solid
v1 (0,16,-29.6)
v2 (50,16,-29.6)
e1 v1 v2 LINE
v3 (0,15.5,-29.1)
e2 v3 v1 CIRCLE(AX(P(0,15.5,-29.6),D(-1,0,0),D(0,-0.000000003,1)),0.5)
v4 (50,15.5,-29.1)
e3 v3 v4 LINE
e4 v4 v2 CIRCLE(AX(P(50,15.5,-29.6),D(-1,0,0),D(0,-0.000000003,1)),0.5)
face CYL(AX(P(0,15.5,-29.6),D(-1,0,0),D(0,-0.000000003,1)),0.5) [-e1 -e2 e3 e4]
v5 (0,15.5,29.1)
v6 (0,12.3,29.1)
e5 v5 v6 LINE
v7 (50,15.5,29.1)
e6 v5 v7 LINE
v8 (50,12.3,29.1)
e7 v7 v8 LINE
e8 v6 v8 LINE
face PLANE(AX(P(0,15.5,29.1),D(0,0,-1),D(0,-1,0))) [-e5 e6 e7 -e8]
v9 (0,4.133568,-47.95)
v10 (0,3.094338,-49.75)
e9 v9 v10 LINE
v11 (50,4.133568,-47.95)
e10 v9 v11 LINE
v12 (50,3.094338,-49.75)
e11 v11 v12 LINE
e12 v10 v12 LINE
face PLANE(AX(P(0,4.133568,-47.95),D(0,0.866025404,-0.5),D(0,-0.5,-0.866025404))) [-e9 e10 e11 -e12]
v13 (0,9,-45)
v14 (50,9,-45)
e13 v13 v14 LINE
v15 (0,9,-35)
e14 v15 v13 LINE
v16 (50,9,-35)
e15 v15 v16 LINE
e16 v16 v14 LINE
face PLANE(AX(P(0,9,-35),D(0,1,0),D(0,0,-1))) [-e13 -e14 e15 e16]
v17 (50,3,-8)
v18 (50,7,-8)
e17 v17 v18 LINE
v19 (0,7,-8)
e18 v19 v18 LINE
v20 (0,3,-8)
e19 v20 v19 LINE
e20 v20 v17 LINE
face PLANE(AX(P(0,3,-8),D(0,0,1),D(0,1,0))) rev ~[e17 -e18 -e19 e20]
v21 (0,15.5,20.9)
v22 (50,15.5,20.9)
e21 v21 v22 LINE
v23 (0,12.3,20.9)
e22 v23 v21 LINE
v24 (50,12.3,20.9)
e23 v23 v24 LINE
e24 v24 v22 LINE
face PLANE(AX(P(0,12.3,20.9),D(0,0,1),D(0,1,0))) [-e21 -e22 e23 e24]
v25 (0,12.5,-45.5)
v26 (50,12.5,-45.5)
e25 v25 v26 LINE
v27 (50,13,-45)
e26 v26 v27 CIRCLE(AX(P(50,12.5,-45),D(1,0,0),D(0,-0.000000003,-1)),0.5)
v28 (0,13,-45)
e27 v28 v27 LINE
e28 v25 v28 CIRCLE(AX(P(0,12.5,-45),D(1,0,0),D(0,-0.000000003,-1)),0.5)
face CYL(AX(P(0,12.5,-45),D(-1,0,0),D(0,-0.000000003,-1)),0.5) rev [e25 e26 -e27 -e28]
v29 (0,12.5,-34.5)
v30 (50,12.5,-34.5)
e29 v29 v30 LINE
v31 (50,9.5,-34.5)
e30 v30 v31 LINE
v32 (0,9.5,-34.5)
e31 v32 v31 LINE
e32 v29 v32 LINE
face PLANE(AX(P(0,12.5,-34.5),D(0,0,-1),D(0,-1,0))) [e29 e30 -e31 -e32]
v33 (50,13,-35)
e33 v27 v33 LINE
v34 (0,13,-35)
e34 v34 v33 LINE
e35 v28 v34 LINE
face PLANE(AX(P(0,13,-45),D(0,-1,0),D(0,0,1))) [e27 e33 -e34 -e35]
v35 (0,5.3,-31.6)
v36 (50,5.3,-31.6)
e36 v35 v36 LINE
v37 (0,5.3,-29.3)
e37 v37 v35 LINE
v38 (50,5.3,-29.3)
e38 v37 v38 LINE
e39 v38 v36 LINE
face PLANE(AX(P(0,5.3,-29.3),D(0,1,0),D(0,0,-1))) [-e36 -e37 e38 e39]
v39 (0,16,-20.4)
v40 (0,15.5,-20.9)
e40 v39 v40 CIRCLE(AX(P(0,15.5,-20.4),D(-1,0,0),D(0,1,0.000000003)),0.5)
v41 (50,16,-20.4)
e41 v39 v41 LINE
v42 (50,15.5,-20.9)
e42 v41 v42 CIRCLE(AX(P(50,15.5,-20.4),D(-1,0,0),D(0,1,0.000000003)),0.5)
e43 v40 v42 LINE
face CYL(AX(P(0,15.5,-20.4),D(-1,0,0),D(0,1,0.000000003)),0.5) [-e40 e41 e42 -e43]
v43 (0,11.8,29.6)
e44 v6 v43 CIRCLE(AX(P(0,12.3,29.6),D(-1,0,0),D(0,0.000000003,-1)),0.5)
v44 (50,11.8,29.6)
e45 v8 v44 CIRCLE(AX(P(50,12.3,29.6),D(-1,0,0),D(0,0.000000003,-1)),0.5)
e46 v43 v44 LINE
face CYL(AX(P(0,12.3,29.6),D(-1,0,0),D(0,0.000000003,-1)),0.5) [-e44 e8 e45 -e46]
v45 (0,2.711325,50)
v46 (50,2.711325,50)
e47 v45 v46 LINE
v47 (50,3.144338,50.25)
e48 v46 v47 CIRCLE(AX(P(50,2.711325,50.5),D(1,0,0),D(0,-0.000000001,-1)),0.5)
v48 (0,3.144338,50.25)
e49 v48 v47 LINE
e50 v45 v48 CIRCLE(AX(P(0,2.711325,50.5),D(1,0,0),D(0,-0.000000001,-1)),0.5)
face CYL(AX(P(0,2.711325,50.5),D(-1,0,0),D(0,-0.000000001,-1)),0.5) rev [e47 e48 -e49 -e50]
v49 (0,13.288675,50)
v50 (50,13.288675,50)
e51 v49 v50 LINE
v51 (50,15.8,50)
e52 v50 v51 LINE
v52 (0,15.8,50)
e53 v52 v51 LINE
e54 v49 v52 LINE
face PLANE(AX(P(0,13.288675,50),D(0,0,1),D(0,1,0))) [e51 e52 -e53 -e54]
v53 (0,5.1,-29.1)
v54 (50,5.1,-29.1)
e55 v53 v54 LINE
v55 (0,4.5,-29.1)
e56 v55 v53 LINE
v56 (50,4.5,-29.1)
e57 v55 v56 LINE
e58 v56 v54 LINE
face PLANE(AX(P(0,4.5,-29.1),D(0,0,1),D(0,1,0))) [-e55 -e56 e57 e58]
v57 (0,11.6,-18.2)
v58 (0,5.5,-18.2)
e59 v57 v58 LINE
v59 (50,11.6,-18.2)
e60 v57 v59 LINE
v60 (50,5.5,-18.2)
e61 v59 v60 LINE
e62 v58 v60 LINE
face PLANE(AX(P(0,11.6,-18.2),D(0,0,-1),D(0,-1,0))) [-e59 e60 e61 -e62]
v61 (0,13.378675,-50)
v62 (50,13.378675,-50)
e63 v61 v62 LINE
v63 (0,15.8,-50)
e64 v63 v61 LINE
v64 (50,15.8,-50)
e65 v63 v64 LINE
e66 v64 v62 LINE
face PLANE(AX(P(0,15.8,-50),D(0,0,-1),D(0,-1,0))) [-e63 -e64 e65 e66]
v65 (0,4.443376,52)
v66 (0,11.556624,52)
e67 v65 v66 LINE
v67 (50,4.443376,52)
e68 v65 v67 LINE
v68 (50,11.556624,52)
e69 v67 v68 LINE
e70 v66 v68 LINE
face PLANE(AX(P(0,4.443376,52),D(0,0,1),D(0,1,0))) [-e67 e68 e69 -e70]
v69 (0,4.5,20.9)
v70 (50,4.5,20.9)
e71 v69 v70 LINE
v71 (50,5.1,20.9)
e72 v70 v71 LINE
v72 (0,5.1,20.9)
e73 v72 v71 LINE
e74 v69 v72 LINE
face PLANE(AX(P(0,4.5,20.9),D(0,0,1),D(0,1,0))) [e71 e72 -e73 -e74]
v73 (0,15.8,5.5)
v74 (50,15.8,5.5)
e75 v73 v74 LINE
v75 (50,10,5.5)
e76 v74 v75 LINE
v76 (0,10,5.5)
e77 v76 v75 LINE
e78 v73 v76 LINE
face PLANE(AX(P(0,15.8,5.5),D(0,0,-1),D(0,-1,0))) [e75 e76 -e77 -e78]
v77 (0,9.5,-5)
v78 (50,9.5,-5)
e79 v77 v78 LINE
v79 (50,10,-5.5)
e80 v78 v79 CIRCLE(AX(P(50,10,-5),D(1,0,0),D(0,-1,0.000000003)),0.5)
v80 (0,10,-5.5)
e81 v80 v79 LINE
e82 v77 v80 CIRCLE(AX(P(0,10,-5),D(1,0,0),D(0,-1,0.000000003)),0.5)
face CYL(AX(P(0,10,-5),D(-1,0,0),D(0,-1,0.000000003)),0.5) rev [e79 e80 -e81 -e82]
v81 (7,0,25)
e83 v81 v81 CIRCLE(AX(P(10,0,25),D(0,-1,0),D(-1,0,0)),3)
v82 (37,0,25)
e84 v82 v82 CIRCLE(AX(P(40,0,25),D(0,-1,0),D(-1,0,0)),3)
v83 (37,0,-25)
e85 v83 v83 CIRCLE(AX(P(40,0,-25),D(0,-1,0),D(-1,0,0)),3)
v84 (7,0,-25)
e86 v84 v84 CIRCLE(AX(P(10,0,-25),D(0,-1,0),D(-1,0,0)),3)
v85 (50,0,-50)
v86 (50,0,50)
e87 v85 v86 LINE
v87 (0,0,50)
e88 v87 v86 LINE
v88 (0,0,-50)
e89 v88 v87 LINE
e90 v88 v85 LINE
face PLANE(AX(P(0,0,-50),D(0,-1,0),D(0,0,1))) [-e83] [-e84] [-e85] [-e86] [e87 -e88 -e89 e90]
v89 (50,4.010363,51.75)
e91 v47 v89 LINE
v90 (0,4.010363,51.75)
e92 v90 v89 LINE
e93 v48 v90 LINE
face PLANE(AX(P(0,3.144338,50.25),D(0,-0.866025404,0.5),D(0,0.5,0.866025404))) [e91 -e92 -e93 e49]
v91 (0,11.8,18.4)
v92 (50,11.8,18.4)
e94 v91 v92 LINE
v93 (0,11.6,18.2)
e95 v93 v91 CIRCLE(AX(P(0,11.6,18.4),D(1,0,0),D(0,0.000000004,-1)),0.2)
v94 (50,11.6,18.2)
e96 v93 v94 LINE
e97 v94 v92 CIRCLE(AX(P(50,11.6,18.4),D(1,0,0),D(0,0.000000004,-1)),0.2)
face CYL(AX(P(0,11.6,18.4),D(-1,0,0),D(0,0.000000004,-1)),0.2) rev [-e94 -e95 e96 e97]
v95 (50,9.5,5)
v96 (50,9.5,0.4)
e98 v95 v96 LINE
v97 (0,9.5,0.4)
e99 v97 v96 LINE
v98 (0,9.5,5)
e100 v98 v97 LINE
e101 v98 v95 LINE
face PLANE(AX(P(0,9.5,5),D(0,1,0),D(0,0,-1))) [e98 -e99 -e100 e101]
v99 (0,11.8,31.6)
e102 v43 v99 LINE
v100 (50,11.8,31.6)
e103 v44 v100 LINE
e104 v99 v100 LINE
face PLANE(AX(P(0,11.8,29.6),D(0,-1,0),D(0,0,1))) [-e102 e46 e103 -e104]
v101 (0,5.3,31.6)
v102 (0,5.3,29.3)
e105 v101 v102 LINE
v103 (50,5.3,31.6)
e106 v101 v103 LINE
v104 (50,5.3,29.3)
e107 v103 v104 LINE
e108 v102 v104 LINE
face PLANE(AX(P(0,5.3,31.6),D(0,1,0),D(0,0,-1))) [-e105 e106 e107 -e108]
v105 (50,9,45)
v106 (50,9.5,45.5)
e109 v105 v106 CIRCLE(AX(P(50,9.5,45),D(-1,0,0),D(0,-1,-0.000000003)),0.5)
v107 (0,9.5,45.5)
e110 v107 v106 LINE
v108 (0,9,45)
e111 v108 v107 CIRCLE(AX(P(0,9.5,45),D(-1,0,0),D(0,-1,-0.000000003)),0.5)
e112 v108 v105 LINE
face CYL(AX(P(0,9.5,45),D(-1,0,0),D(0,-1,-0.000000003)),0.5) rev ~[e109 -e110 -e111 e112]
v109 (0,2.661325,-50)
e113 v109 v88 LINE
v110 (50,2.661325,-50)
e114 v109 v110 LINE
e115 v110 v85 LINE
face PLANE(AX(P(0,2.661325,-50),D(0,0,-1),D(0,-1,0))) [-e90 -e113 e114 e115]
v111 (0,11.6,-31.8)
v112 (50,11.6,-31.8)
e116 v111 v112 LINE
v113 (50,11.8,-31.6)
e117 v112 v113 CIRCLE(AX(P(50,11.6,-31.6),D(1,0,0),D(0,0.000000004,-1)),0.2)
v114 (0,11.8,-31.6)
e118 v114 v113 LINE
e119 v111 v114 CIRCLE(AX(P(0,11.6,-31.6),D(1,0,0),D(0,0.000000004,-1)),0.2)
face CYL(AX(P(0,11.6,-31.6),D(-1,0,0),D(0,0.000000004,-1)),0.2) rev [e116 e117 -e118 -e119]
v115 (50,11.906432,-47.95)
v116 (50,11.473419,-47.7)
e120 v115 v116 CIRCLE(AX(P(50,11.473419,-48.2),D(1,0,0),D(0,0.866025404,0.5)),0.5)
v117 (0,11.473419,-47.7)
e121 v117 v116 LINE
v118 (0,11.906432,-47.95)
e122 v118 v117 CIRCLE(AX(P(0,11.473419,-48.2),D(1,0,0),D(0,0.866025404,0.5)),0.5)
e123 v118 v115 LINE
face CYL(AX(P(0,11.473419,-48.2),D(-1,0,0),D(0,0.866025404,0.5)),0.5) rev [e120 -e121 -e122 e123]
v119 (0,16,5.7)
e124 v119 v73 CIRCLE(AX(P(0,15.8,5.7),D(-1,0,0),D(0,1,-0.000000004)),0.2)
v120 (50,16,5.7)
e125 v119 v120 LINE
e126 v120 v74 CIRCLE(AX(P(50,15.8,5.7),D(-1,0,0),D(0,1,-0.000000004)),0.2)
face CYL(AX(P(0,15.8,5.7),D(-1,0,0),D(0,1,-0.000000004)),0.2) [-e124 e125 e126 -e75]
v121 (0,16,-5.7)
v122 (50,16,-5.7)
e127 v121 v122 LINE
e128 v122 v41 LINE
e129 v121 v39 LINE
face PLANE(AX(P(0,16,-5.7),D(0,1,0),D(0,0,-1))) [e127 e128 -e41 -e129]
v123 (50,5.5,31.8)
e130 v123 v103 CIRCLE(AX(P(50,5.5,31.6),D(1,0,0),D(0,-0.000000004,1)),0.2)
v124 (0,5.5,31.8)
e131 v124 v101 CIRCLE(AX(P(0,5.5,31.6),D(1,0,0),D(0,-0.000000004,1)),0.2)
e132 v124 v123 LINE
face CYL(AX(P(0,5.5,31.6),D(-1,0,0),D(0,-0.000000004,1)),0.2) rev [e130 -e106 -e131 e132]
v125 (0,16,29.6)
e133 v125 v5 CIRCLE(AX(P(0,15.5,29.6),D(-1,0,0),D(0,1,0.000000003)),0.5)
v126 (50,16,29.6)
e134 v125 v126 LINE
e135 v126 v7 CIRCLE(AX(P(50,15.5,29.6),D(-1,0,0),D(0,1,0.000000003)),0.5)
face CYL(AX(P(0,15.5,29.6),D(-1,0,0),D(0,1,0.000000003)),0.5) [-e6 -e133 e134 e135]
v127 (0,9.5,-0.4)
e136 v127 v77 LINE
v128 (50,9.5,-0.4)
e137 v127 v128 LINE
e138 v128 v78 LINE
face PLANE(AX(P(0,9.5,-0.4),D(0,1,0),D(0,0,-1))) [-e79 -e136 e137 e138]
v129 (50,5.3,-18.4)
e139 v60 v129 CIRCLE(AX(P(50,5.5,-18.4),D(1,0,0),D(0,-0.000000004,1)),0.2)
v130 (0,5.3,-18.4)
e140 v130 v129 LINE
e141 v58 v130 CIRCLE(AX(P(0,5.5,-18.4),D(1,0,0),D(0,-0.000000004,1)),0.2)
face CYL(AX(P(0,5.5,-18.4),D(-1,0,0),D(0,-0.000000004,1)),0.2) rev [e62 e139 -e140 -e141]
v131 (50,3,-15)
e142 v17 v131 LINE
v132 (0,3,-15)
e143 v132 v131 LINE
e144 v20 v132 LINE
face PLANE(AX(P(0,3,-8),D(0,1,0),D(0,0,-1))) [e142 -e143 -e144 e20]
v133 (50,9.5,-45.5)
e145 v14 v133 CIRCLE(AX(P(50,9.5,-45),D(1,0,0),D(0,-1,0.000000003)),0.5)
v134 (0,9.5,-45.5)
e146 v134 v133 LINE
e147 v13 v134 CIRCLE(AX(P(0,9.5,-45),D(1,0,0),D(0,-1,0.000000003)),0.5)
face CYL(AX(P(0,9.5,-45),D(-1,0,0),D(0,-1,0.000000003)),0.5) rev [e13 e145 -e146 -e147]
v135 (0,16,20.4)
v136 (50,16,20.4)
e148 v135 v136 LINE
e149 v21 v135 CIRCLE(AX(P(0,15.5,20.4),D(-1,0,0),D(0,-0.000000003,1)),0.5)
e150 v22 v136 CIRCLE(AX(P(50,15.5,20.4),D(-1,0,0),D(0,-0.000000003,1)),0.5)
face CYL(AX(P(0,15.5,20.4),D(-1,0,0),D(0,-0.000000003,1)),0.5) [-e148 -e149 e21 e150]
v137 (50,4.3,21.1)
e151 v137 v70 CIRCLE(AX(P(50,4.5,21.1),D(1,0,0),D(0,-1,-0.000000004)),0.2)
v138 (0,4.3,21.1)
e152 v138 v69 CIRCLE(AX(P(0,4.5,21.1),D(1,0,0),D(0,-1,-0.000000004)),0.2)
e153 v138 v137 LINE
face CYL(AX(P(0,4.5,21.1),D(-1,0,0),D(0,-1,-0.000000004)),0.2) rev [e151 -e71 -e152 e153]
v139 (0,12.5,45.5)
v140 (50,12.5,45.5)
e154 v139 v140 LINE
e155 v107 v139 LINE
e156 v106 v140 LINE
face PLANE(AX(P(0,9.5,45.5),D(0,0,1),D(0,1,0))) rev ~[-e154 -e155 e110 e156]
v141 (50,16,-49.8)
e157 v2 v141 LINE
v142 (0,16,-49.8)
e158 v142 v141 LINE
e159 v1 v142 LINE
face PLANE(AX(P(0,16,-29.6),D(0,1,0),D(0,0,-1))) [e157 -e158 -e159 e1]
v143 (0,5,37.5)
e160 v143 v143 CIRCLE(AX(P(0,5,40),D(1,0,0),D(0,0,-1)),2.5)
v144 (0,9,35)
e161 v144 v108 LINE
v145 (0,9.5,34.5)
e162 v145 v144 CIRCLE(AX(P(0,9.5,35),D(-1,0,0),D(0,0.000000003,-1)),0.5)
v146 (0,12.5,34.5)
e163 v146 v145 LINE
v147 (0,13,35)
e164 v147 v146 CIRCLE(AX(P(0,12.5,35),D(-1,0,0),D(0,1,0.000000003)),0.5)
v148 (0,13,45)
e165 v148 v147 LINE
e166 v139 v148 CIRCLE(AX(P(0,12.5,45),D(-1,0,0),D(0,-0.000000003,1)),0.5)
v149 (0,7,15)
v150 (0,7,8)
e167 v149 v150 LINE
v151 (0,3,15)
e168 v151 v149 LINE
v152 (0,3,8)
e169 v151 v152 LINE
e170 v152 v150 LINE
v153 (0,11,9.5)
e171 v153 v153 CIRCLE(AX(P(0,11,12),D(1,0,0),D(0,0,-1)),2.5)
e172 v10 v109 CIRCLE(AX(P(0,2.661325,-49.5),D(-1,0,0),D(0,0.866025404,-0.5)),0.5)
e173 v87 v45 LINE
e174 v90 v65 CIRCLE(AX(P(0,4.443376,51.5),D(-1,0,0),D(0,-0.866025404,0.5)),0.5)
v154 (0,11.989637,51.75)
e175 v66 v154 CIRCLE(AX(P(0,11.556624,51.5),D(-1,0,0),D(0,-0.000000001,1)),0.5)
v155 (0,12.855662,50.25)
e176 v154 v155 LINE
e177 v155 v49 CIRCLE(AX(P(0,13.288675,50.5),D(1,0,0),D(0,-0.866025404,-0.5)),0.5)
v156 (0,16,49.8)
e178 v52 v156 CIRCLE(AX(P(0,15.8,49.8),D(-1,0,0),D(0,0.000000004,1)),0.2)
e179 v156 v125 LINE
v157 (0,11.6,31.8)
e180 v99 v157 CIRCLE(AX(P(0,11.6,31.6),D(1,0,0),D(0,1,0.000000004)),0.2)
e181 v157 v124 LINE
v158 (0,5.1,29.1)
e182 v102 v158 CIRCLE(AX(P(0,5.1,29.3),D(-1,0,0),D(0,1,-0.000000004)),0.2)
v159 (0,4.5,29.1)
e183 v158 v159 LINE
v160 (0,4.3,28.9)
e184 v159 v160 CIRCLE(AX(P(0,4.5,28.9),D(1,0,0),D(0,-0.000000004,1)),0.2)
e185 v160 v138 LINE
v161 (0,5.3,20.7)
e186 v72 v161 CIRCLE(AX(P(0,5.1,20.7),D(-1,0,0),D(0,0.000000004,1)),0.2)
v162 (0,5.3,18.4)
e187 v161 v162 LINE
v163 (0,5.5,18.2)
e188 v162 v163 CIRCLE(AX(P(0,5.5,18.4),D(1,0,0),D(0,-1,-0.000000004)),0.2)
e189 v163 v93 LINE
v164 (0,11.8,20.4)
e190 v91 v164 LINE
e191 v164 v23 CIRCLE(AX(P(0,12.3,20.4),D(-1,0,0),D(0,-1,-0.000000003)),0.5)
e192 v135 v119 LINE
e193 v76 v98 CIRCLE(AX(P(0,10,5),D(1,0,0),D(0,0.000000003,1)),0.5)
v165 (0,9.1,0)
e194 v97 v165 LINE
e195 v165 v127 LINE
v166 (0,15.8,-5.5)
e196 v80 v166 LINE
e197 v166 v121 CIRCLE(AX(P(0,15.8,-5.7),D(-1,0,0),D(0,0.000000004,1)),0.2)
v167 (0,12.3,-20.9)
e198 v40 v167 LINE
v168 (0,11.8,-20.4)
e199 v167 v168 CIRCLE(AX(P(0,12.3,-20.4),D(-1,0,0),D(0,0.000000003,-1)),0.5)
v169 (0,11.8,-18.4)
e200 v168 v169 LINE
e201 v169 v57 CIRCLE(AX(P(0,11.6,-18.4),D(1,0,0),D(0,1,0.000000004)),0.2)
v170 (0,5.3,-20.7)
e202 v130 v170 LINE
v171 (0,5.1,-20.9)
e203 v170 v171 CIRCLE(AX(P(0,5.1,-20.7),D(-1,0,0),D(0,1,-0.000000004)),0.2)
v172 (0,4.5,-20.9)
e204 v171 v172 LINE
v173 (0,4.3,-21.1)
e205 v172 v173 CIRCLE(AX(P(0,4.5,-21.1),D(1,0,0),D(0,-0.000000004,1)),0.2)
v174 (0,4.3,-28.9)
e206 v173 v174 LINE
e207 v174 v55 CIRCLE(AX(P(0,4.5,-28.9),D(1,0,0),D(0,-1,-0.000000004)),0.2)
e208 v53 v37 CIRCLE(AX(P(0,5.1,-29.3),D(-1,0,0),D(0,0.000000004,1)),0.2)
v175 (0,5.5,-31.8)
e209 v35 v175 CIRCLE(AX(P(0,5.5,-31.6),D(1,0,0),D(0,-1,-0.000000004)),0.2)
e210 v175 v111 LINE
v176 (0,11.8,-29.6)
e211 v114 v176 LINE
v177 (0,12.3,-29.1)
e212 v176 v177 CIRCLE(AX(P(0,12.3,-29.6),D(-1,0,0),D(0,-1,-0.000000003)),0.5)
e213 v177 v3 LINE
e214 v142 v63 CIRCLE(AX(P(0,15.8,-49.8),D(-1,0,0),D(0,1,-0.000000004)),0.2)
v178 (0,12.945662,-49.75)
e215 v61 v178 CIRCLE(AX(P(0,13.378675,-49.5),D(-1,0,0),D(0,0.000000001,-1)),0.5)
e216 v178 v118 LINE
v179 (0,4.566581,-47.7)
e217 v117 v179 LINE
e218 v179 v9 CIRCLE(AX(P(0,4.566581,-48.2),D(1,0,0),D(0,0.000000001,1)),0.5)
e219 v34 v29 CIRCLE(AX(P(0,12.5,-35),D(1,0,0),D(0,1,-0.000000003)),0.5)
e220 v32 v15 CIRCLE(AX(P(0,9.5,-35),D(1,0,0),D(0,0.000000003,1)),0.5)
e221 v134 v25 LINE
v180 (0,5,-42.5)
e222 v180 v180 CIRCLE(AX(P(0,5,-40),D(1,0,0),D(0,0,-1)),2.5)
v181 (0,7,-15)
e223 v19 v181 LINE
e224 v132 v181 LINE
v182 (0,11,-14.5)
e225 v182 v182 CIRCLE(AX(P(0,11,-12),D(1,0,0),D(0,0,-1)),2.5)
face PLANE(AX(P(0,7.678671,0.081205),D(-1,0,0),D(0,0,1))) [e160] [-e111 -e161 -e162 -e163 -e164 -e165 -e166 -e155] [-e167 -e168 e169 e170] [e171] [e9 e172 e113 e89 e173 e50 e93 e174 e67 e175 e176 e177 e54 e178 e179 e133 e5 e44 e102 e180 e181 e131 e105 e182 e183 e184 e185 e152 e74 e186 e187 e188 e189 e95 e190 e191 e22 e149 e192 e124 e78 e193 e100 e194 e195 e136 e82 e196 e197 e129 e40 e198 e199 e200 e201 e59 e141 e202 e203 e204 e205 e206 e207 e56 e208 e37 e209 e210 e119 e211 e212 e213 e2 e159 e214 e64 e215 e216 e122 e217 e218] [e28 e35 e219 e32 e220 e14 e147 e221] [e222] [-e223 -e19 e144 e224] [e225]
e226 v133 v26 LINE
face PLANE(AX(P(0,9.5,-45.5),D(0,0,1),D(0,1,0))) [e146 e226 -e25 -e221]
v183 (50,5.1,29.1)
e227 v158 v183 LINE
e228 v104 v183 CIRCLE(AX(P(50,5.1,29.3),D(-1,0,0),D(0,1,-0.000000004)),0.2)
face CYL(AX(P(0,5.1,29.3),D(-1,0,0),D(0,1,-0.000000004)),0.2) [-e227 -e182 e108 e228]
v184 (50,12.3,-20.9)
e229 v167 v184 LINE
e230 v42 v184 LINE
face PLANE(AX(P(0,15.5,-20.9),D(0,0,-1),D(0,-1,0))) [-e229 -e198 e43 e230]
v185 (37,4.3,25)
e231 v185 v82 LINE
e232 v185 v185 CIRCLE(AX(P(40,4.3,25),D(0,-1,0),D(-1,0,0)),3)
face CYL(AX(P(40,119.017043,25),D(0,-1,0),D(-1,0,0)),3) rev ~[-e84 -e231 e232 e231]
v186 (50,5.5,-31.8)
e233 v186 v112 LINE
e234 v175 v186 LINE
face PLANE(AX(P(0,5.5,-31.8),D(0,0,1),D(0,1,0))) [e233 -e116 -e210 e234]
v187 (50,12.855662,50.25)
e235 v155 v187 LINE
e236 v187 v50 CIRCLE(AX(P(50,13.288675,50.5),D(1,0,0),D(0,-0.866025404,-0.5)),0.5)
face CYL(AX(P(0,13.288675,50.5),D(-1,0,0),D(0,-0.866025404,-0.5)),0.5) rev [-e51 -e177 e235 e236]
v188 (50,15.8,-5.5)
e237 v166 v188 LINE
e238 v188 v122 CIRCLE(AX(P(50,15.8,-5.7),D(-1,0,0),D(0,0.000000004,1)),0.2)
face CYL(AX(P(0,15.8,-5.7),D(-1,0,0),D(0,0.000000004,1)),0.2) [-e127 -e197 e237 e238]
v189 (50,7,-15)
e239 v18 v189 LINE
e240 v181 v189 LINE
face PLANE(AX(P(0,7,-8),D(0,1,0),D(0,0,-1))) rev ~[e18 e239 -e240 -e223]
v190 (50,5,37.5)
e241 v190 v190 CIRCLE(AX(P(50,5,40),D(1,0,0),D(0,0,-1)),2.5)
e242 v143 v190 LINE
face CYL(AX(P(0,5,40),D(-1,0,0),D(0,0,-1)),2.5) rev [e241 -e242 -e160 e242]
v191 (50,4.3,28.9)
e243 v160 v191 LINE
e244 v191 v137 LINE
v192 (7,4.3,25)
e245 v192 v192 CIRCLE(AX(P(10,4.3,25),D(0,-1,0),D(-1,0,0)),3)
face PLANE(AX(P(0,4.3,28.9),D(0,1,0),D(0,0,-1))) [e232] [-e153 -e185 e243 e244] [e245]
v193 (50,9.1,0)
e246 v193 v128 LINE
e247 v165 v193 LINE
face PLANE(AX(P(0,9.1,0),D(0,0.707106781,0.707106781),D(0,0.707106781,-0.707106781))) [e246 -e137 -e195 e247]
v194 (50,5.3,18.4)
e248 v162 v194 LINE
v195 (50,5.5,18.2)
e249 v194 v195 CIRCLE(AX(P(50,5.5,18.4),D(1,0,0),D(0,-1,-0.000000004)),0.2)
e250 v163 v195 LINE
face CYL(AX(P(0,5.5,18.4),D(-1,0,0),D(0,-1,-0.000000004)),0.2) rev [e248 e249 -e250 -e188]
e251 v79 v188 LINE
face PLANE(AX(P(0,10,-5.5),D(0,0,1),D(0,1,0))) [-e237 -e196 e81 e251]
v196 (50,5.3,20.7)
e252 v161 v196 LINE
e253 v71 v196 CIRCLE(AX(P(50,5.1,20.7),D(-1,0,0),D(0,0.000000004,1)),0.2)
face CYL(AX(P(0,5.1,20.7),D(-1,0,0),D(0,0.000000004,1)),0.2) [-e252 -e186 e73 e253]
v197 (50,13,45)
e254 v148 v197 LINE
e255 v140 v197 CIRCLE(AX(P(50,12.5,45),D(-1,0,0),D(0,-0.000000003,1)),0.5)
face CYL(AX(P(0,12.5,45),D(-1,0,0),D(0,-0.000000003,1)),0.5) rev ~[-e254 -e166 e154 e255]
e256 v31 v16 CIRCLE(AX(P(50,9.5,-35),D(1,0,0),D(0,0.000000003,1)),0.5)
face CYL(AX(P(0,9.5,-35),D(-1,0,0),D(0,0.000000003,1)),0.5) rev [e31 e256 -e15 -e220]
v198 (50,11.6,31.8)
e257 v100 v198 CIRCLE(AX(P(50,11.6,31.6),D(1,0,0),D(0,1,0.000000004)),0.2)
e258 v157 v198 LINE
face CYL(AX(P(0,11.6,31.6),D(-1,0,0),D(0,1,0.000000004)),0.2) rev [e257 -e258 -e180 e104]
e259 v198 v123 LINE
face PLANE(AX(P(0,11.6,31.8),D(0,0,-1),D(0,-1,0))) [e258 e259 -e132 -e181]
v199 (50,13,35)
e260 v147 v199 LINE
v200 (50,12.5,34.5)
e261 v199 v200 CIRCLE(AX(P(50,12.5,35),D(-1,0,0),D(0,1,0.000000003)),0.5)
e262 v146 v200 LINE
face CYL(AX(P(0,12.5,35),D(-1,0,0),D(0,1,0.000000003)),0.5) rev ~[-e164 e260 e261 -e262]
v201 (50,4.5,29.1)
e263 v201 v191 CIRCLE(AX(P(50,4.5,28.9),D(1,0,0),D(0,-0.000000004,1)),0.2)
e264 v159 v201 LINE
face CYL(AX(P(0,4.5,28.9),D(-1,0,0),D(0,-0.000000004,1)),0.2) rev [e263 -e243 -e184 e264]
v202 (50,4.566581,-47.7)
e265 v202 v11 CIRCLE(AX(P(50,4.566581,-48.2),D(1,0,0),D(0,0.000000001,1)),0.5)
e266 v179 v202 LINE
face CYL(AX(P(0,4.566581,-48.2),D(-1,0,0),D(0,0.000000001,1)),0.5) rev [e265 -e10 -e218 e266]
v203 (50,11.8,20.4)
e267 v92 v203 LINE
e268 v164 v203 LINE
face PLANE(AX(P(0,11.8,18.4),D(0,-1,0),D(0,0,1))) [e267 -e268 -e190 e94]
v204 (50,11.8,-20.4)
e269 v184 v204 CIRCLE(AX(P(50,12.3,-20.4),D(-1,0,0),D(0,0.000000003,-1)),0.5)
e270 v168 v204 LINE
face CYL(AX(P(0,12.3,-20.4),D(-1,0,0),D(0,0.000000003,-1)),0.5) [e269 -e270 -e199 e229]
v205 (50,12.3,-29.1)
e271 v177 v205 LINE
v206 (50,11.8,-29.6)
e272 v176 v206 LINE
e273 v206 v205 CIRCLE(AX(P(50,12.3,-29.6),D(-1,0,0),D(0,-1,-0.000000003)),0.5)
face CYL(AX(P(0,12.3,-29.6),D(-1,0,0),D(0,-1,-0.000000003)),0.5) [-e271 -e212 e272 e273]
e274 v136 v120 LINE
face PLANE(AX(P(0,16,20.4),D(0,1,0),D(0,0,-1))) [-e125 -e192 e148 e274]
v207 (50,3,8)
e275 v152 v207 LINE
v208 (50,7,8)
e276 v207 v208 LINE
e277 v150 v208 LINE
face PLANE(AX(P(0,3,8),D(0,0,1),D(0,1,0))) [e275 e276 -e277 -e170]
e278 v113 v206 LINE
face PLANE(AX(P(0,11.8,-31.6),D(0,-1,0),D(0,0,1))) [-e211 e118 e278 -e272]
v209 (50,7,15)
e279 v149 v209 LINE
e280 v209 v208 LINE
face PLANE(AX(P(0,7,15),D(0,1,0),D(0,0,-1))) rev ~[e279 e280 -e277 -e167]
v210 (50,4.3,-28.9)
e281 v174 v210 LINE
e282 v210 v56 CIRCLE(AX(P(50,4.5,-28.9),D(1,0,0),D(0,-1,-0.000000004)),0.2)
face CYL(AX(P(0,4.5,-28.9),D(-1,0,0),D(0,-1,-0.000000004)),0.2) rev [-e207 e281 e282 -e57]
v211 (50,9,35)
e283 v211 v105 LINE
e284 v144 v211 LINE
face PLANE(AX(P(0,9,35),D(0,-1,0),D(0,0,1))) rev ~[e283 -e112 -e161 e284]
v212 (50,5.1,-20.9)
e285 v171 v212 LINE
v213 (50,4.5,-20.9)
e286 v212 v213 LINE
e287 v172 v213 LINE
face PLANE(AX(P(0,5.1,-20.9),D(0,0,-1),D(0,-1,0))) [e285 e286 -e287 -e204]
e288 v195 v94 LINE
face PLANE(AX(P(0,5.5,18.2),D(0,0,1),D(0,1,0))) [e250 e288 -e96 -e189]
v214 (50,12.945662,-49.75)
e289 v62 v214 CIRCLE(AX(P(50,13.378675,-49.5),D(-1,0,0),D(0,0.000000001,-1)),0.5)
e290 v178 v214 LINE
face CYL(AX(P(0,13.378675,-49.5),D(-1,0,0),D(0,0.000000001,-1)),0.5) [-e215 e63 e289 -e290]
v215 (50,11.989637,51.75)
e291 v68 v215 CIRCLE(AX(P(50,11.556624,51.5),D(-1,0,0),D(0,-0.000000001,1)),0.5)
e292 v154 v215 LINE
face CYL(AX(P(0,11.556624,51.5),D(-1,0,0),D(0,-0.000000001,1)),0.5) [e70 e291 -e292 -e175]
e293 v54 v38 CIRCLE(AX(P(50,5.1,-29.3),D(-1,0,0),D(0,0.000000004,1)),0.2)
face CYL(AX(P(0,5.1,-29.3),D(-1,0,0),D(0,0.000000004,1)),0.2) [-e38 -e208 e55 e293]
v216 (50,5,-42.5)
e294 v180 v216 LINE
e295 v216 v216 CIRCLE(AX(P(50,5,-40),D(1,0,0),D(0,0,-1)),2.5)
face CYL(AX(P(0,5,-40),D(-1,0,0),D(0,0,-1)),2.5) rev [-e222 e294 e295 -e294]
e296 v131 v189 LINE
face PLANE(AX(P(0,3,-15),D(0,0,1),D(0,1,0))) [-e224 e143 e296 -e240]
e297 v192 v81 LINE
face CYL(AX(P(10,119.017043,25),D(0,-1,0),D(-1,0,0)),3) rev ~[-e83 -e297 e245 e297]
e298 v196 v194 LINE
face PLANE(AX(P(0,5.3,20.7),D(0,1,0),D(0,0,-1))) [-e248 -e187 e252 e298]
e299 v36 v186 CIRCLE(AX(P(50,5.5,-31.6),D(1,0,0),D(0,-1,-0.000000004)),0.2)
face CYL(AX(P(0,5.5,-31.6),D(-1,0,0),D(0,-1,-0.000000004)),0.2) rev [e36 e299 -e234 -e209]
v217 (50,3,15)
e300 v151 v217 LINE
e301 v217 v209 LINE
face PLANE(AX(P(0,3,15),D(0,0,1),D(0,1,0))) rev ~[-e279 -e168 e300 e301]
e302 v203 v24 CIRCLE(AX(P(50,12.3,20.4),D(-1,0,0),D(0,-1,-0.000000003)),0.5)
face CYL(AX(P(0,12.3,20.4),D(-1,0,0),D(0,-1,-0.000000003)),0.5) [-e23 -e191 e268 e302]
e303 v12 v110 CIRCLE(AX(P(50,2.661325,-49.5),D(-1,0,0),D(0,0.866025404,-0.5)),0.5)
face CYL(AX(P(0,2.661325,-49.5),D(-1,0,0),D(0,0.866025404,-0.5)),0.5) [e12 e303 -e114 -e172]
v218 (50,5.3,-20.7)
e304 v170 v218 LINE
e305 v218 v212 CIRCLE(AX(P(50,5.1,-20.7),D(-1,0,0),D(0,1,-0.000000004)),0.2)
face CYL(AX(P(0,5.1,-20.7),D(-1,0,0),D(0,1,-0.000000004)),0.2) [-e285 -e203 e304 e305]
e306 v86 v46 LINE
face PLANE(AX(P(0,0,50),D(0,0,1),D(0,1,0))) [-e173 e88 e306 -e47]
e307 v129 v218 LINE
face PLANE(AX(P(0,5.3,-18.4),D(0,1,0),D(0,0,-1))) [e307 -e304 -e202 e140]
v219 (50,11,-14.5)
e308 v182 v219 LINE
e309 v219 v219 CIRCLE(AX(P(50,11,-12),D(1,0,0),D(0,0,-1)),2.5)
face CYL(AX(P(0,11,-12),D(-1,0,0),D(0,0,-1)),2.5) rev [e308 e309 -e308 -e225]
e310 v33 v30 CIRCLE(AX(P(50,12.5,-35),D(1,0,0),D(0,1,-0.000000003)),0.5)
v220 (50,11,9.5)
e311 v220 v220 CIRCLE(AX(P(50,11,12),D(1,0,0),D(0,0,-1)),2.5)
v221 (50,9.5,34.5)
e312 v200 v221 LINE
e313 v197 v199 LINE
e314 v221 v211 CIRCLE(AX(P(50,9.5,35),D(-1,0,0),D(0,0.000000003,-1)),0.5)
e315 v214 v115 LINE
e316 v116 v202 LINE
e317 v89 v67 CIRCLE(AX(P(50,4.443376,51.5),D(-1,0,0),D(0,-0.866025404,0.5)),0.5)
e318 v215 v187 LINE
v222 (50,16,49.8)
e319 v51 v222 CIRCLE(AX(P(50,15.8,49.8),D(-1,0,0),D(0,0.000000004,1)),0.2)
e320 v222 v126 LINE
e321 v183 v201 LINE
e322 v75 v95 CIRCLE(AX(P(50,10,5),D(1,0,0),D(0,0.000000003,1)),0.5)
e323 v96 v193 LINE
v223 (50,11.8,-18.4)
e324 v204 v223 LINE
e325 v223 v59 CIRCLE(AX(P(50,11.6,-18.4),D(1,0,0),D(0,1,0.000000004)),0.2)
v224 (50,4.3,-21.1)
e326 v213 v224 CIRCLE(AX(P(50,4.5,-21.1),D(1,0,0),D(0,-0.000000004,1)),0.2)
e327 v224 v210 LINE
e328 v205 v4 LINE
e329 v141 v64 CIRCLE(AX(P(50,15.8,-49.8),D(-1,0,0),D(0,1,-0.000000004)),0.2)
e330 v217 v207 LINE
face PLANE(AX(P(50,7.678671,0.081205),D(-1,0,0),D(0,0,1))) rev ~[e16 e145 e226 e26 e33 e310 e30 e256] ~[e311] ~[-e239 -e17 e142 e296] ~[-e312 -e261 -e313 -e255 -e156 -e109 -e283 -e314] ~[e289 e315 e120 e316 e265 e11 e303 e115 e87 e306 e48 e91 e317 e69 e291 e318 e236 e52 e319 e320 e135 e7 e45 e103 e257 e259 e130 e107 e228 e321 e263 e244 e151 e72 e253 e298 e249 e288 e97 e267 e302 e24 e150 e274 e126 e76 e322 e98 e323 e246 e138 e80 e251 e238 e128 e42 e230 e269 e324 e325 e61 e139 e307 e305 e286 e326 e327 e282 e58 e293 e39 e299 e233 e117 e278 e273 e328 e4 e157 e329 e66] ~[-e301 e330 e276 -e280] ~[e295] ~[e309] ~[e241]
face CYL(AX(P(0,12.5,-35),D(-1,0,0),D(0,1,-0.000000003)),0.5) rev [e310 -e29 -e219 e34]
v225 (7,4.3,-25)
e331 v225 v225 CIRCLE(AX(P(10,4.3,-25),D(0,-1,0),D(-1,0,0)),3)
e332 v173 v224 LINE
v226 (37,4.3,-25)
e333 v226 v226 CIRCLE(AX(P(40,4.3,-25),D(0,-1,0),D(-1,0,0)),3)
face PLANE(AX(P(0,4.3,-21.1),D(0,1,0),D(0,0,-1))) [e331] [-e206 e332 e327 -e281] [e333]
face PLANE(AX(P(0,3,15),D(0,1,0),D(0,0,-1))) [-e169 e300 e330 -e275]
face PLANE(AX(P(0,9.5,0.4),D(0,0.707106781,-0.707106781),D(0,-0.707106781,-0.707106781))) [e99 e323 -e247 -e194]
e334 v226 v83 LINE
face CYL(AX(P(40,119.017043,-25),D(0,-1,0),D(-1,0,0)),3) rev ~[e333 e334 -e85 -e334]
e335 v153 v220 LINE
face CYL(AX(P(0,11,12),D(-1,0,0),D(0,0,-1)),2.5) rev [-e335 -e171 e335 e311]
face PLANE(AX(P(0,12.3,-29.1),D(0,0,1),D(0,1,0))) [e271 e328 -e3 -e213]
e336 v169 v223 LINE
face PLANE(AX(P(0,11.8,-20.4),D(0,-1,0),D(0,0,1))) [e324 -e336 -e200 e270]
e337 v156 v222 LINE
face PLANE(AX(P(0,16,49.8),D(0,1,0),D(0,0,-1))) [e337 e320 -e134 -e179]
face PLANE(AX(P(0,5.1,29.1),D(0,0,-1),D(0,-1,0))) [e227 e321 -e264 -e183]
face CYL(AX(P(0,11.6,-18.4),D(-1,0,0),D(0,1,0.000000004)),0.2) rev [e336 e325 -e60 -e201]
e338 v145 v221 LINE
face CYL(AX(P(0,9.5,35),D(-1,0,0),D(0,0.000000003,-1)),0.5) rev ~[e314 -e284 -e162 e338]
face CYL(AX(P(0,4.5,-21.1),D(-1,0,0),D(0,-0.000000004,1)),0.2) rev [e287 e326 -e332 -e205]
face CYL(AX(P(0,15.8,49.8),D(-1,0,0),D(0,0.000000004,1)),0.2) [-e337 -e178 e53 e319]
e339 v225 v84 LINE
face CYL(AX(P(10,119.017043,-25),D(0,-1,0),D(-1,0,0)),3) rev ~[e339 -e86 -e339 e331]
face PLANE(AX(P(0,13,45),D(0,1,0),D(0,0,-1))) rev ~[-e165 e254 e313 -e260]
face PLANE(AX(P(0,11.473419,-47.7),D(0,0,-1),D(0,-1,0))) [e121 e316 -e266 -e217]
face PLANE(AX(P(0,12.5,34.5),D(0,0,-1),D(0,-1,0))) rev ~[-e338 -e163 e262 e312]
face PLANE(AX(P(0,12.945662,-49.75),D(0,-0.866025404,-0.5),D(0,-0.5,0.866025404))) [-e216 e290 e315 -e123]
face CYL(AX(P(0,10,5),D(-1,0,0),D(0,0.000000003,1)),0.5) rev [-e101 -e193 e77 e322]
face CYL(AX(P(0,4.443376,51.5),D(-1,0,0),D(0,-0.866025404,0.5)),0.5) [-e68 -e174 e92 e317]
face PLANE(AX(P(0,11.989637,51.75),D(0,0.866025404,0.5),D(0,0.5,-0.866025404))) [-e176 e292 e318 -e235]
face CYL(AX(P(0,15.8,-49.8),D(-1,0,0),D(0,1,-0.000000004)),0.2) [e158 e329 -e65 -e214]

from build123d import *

# Parameters (mm, degrees)
SKETCH_1_R            = 2.5
SKETCH_1_W            = 7
SKETCH_1_H            = 4
EXTRUDE_1_DEPTH       = 50
HOLE_WIZARD_6_0_6_1_D = 6


with BuildPart() as part:
    # Эскиз1 → Бобышка-Вытянуть1 (new body)
    with BuildSketch(Plane(origin=(0, 0, 0), x_dir=(0, 0, -1), z_dir=(1, 0, 0))):
        with BuildLine():
            Line((-5.5, 15.8), (-5.5, 10))
            ThreePointArc((-5.5, 10), (-5.353553391, 9.646446609), (-5, 9.5))
            Line((-5, 9.5), (-0.4, 9.5))
            Line((-0.4, 9.5), (0, 9.1))
            Line((0, 9.1), (0.4, 9.5))
            Line((0.4, 9.5), (5, 9.5))
            ThreePointArc((5, 9.5), (5.353553391, 9.646446609), (5.5, 10))
            Line((5.5, 10), (5.5, 15.8))
            ThreePointArc((5.5, 15.8), (5.558578644, 15.941421356), (5.7, 16))
            Line((5.7, 16), (20.4, 16))
            ThreePointArc((20.4, 16), (20.753553391, 15.853553391), (20.9, 15.5))
            Line((20.9, 15.5), (20.9, 12.3))
            ThreePointArc((20.9, 12.3), (20.753553391, 11.946446609), (20.4, 11.8))
            Line((20.4, 11.8), (18.4, 11.8))
            ThreePointArc((18.4, 11.8), (18.258578644, 11.741421356), (18.2, 11.6))
            Line((18.2, 11.6), (18.2, 5.5))
            ThreePointArc((18.2, 5.5), (18.258578644, 5.358578644), (18.4, 5.3))
            Line((18.4, 5.3), (20.7, 5.3))
            ThreePointArc((20.7, 5.3), (20.841421356, 5.241421356), (20.9, 5.1))
            Line((20.9, 5.1), (20.9, 4.5))
            ThreePointArc((20.9, 4.5), (20.958578644, 4.358578644), (21.1, 4.3))
            Line((21.1, 4.3), (28.9, 4.3))
            ThreePointArc((28.9, 4.3), (29.041421356, 4.358578644), (29.1, 4.5))
            Line((29.1, 4.5), (29.1, 5.1))
            ThreePointArc((29.1, 5.1), (29.158578644, 5.241421356), (29.3, 5.3))
            Line((29.3, 5.3), (31.6, 5.3))
            ThreePointArc((31.6, 5.3), (31.741421356, 5.358578644), (31.8, 5.5))
            Line((31.8, 5.5), (31.8, 11.6))
            ThreePointArc((31.8, 11.6), (31.741421356, 11.741421356), (31.6, 11.8))
            Line((31.6, 11.8), (29.6, 11.8))
            ThreePointArc((29.6, 11.8), (29.246446609, 11.946446609), (29.1, 12.3))
            Line((29.1, 12.3), (29.1, 15.5))
            ThreePointArc((29.1, 15.5), (29.246446609, 15.853553391), (29.6, 16))
            Line((29.6, 16), (49.8, 16))
            ThreePointArc((49.8, 16), (49.941421356, 15.941421356), (50, 15.8))
            Line((50, 15.8), (50, 13.378675135))
            ThreePointArc((50, 13.378675135), (49.933012702, 13.128675135), (49.75, 12.945662433))
            Line((49.75, 12.945662433), (47.95, 11.906431948))
            ThreePointArc((47.95, 11.906431948), (47.766987298, 11.723419246), (47.7, 11.473419246))
            Line((47.7, 11.473419246), (47.7, 4.566580754))
            ThreePointArc((47.7, 4.566580754), (47.766987298, 4.316580754), (47.95, 4.133568052))
            Line((47.95, 4.133568052), (49.75, 3.094337567))
            ThreePointArc((49.75, 3.094337567), (49.933012702, 2.911324865), (50, 2.661324865))
            Line((50, 2.661324865), (50, 0))
            Line((50, 0), (-50, 0))
            Line((-50, 0), (-50, 2.711324865))
            ThreePointArc((-50, 2.711324865), (-50.066987298, 2.961324865), (-50.25, 3.144337567))
            Line((-50.25, 3.144337567), (-51.75, 4.010362971))
            ThreePointArc((-51.75, 4.010362971), (-51.933012702, 4.193375673), (-52, 4.443375673))
            Line((-52, 4.443375673), (-52, 11.556624327))
            ThreePointArc((-52, 11.556624327), (-51.933012702, 11.806624327), (-51.75, 11.989637029))
            Line((-51.75, 11.989637029), (-50.25, 12.855662433))
            ThreePointArc((-50.25, 12.855662433), (-50.066987298, 13.038675135), (-50, 13.288675135))
            Line((-50, 13.288675135), (-50, 15.8))
            ThreePointArc((-50, 15.8), (-49.941421356, 15.941421356), (-49.8, 16))
            Line((-49.8, 16), (-29.6, 16))
            ThreePointArc((-29.6, 16), (-29.246446609, 15.853553391), (-29.1, 15.5))
            Line((-29.1, 15.5), (-29.1, 12.3))
            ThreePointArc((-29.1, 12.3), (-29.246446609, 11.946446609), (-29.6, 11.8))
            Line((-29.6, 11.8), (-31.6, 11.8))
            ThreePointArc((-31.6, 11.8), (-31.741421356, 11.741421356), (-31.8, 11.6))
            Line((-31.8, 11.6), (-31.8, 5.5))
            ThreePointArc((-31.8, 5.5), (-31.741421356, 5.358578644), (-31.6, 5.3))
            Line((-31.6, 5.3), (-29.3, 5.3))
            ThreePointArc((-29.3, 5.3), (-29.158578644, 5.241421356), (-29.1, 5.1))
            Line((-29.1, 5.1), (-29.1, 4.5))
            ThreePointArc((-29.1, 4.5), (-29.041421356, 4.358578644), (-28.9, 4.3))
            Line((-28.9, 4.3), (-21.1, 4.3))
            ThreePointArc((-21.1, 4.3), (-20.958578644, 4.358578644), (-20.9, 4.5))
            Line((-20.9, 4.5), (-20.9, 5.1))
            ThreePointArc((-20.9, 5.1), (-20.841421356, 5.241421356), (-20.7, 5.3))
            Line((-20.7, 5.3), (-18.4, 5.3))
            ThreePointArc((-18.4, 5.3), (-18.258578644, 5.358578644), (-18.2, 5.5))
            Line((-18.2, 5.5), (-18.2, 11.6))
            ThreePointArc((-18.2, 11.6), (-18.258578644, 11.741421356), (-18.4, 11.8))
            Line((-18.4, 11.8), (-20.4, 11.8))
            ThreePointArc((-20.4, 11.8), (-20.753553391, 11.946446609), (-20.9, 12.3))
            Line((-20.9, 12.3), (-20.9, 15.5))
            ThreePointArc((-20.9, 15.5), (-20.753553391, 15.853553391), (-20.4, 16))
            Line((-20.4, 16), (-5.7, 16))
            ThreePointArc((-5.7, 16), (-5.558578644, 15.941421356), (-5.5, 15.8))
        make_face()
        with Locations((-12, 11)):
            Circle(SKETCH_1_R, mode=Mode.SUBTRACT)
        with Locations((12, 11)):
            Circle(SKETCH_1_R, mode=Mode.SUBTRACT)
        with Locations((-40, 5)):
            Circle(SKETCH_1_R, mode=Mode.SUBTRACT)
        with Locations((40, 5)):
            Circle(SKETCH_1_R, mode=Mode.SUBTRACT)
        with Locations((-11.5, 5)):
            Rectangle(SKETCH_1_W, SKETCH_1_H, mode=Mode.SUBTRACT)
        with Locations((11.5, 5)):
            Rectangle(SKETCH_1_W, SKETCH_1_H, mode=Mode.SUBTRACT)
        with BuildLine():
            Line((-45, 13), (-35, 13))
            ThreePointArc((-35, 13), (-34.646446609, 12.853553391), (-34.5, 12.5))
            Line((-34.5, 12.5), (-34.5, 9.5))
            ThreePointArc((-34.5, 9.5), (-34.646446609, 9.146446609), (-35, 9))
            Line((-35, 9), (-45, 9))
            ThreePointArc((-45, 9), (-45.353553391, 9.146446609), (-45.5, 9.5))
            Line((-45.5, 9.5), (-45.5, 12.5))
            ThreePointArc((-45.5, 12.5), (-45.353553391, 12.853553391), (-45, 13))
        make_face(mode=Mode.SUBTRACT)
        with BuildLine():
            Line((34.5, 12.5), (34.5, 9.5))
            ThreePointArc((34.5, 9.5), (34.646446609, 9.146446609), (35, 9))
            Line((35, 9), (45, 9))
            ThreePointArc((45, 9), (45.353553391, 9.146446609), (45.5, 9.5))
            Line((45.5, 9.5), (45.5, 12.5))
            ThreePointArc((45.5, 12.5), (45.353553391, 12.853553391), (45, 13))
            Line((45, 13), (35, 13))
            ThreePointArc((35, 13), (34.646446609, 12.853553391), (34.5, 12.5))
        make_face(mode=Mode.SUBTRACT)
    extrude(amount=EXTRUDE_1_DEPTH)

    # Диаметр отверстия Ø6.0 (6)1 (through all)
    with Locations(Plane(origin=(0, 4.3, 0), x_dir=(1, 0, 0), z_dir=(0, 1, 0))):
        with Locations((10, 25), (10, -25), (40, -25), (40, 25)):
            Hole(HOLE_WIZARD_6_0_6_1_D / 2)


solid = part.part
